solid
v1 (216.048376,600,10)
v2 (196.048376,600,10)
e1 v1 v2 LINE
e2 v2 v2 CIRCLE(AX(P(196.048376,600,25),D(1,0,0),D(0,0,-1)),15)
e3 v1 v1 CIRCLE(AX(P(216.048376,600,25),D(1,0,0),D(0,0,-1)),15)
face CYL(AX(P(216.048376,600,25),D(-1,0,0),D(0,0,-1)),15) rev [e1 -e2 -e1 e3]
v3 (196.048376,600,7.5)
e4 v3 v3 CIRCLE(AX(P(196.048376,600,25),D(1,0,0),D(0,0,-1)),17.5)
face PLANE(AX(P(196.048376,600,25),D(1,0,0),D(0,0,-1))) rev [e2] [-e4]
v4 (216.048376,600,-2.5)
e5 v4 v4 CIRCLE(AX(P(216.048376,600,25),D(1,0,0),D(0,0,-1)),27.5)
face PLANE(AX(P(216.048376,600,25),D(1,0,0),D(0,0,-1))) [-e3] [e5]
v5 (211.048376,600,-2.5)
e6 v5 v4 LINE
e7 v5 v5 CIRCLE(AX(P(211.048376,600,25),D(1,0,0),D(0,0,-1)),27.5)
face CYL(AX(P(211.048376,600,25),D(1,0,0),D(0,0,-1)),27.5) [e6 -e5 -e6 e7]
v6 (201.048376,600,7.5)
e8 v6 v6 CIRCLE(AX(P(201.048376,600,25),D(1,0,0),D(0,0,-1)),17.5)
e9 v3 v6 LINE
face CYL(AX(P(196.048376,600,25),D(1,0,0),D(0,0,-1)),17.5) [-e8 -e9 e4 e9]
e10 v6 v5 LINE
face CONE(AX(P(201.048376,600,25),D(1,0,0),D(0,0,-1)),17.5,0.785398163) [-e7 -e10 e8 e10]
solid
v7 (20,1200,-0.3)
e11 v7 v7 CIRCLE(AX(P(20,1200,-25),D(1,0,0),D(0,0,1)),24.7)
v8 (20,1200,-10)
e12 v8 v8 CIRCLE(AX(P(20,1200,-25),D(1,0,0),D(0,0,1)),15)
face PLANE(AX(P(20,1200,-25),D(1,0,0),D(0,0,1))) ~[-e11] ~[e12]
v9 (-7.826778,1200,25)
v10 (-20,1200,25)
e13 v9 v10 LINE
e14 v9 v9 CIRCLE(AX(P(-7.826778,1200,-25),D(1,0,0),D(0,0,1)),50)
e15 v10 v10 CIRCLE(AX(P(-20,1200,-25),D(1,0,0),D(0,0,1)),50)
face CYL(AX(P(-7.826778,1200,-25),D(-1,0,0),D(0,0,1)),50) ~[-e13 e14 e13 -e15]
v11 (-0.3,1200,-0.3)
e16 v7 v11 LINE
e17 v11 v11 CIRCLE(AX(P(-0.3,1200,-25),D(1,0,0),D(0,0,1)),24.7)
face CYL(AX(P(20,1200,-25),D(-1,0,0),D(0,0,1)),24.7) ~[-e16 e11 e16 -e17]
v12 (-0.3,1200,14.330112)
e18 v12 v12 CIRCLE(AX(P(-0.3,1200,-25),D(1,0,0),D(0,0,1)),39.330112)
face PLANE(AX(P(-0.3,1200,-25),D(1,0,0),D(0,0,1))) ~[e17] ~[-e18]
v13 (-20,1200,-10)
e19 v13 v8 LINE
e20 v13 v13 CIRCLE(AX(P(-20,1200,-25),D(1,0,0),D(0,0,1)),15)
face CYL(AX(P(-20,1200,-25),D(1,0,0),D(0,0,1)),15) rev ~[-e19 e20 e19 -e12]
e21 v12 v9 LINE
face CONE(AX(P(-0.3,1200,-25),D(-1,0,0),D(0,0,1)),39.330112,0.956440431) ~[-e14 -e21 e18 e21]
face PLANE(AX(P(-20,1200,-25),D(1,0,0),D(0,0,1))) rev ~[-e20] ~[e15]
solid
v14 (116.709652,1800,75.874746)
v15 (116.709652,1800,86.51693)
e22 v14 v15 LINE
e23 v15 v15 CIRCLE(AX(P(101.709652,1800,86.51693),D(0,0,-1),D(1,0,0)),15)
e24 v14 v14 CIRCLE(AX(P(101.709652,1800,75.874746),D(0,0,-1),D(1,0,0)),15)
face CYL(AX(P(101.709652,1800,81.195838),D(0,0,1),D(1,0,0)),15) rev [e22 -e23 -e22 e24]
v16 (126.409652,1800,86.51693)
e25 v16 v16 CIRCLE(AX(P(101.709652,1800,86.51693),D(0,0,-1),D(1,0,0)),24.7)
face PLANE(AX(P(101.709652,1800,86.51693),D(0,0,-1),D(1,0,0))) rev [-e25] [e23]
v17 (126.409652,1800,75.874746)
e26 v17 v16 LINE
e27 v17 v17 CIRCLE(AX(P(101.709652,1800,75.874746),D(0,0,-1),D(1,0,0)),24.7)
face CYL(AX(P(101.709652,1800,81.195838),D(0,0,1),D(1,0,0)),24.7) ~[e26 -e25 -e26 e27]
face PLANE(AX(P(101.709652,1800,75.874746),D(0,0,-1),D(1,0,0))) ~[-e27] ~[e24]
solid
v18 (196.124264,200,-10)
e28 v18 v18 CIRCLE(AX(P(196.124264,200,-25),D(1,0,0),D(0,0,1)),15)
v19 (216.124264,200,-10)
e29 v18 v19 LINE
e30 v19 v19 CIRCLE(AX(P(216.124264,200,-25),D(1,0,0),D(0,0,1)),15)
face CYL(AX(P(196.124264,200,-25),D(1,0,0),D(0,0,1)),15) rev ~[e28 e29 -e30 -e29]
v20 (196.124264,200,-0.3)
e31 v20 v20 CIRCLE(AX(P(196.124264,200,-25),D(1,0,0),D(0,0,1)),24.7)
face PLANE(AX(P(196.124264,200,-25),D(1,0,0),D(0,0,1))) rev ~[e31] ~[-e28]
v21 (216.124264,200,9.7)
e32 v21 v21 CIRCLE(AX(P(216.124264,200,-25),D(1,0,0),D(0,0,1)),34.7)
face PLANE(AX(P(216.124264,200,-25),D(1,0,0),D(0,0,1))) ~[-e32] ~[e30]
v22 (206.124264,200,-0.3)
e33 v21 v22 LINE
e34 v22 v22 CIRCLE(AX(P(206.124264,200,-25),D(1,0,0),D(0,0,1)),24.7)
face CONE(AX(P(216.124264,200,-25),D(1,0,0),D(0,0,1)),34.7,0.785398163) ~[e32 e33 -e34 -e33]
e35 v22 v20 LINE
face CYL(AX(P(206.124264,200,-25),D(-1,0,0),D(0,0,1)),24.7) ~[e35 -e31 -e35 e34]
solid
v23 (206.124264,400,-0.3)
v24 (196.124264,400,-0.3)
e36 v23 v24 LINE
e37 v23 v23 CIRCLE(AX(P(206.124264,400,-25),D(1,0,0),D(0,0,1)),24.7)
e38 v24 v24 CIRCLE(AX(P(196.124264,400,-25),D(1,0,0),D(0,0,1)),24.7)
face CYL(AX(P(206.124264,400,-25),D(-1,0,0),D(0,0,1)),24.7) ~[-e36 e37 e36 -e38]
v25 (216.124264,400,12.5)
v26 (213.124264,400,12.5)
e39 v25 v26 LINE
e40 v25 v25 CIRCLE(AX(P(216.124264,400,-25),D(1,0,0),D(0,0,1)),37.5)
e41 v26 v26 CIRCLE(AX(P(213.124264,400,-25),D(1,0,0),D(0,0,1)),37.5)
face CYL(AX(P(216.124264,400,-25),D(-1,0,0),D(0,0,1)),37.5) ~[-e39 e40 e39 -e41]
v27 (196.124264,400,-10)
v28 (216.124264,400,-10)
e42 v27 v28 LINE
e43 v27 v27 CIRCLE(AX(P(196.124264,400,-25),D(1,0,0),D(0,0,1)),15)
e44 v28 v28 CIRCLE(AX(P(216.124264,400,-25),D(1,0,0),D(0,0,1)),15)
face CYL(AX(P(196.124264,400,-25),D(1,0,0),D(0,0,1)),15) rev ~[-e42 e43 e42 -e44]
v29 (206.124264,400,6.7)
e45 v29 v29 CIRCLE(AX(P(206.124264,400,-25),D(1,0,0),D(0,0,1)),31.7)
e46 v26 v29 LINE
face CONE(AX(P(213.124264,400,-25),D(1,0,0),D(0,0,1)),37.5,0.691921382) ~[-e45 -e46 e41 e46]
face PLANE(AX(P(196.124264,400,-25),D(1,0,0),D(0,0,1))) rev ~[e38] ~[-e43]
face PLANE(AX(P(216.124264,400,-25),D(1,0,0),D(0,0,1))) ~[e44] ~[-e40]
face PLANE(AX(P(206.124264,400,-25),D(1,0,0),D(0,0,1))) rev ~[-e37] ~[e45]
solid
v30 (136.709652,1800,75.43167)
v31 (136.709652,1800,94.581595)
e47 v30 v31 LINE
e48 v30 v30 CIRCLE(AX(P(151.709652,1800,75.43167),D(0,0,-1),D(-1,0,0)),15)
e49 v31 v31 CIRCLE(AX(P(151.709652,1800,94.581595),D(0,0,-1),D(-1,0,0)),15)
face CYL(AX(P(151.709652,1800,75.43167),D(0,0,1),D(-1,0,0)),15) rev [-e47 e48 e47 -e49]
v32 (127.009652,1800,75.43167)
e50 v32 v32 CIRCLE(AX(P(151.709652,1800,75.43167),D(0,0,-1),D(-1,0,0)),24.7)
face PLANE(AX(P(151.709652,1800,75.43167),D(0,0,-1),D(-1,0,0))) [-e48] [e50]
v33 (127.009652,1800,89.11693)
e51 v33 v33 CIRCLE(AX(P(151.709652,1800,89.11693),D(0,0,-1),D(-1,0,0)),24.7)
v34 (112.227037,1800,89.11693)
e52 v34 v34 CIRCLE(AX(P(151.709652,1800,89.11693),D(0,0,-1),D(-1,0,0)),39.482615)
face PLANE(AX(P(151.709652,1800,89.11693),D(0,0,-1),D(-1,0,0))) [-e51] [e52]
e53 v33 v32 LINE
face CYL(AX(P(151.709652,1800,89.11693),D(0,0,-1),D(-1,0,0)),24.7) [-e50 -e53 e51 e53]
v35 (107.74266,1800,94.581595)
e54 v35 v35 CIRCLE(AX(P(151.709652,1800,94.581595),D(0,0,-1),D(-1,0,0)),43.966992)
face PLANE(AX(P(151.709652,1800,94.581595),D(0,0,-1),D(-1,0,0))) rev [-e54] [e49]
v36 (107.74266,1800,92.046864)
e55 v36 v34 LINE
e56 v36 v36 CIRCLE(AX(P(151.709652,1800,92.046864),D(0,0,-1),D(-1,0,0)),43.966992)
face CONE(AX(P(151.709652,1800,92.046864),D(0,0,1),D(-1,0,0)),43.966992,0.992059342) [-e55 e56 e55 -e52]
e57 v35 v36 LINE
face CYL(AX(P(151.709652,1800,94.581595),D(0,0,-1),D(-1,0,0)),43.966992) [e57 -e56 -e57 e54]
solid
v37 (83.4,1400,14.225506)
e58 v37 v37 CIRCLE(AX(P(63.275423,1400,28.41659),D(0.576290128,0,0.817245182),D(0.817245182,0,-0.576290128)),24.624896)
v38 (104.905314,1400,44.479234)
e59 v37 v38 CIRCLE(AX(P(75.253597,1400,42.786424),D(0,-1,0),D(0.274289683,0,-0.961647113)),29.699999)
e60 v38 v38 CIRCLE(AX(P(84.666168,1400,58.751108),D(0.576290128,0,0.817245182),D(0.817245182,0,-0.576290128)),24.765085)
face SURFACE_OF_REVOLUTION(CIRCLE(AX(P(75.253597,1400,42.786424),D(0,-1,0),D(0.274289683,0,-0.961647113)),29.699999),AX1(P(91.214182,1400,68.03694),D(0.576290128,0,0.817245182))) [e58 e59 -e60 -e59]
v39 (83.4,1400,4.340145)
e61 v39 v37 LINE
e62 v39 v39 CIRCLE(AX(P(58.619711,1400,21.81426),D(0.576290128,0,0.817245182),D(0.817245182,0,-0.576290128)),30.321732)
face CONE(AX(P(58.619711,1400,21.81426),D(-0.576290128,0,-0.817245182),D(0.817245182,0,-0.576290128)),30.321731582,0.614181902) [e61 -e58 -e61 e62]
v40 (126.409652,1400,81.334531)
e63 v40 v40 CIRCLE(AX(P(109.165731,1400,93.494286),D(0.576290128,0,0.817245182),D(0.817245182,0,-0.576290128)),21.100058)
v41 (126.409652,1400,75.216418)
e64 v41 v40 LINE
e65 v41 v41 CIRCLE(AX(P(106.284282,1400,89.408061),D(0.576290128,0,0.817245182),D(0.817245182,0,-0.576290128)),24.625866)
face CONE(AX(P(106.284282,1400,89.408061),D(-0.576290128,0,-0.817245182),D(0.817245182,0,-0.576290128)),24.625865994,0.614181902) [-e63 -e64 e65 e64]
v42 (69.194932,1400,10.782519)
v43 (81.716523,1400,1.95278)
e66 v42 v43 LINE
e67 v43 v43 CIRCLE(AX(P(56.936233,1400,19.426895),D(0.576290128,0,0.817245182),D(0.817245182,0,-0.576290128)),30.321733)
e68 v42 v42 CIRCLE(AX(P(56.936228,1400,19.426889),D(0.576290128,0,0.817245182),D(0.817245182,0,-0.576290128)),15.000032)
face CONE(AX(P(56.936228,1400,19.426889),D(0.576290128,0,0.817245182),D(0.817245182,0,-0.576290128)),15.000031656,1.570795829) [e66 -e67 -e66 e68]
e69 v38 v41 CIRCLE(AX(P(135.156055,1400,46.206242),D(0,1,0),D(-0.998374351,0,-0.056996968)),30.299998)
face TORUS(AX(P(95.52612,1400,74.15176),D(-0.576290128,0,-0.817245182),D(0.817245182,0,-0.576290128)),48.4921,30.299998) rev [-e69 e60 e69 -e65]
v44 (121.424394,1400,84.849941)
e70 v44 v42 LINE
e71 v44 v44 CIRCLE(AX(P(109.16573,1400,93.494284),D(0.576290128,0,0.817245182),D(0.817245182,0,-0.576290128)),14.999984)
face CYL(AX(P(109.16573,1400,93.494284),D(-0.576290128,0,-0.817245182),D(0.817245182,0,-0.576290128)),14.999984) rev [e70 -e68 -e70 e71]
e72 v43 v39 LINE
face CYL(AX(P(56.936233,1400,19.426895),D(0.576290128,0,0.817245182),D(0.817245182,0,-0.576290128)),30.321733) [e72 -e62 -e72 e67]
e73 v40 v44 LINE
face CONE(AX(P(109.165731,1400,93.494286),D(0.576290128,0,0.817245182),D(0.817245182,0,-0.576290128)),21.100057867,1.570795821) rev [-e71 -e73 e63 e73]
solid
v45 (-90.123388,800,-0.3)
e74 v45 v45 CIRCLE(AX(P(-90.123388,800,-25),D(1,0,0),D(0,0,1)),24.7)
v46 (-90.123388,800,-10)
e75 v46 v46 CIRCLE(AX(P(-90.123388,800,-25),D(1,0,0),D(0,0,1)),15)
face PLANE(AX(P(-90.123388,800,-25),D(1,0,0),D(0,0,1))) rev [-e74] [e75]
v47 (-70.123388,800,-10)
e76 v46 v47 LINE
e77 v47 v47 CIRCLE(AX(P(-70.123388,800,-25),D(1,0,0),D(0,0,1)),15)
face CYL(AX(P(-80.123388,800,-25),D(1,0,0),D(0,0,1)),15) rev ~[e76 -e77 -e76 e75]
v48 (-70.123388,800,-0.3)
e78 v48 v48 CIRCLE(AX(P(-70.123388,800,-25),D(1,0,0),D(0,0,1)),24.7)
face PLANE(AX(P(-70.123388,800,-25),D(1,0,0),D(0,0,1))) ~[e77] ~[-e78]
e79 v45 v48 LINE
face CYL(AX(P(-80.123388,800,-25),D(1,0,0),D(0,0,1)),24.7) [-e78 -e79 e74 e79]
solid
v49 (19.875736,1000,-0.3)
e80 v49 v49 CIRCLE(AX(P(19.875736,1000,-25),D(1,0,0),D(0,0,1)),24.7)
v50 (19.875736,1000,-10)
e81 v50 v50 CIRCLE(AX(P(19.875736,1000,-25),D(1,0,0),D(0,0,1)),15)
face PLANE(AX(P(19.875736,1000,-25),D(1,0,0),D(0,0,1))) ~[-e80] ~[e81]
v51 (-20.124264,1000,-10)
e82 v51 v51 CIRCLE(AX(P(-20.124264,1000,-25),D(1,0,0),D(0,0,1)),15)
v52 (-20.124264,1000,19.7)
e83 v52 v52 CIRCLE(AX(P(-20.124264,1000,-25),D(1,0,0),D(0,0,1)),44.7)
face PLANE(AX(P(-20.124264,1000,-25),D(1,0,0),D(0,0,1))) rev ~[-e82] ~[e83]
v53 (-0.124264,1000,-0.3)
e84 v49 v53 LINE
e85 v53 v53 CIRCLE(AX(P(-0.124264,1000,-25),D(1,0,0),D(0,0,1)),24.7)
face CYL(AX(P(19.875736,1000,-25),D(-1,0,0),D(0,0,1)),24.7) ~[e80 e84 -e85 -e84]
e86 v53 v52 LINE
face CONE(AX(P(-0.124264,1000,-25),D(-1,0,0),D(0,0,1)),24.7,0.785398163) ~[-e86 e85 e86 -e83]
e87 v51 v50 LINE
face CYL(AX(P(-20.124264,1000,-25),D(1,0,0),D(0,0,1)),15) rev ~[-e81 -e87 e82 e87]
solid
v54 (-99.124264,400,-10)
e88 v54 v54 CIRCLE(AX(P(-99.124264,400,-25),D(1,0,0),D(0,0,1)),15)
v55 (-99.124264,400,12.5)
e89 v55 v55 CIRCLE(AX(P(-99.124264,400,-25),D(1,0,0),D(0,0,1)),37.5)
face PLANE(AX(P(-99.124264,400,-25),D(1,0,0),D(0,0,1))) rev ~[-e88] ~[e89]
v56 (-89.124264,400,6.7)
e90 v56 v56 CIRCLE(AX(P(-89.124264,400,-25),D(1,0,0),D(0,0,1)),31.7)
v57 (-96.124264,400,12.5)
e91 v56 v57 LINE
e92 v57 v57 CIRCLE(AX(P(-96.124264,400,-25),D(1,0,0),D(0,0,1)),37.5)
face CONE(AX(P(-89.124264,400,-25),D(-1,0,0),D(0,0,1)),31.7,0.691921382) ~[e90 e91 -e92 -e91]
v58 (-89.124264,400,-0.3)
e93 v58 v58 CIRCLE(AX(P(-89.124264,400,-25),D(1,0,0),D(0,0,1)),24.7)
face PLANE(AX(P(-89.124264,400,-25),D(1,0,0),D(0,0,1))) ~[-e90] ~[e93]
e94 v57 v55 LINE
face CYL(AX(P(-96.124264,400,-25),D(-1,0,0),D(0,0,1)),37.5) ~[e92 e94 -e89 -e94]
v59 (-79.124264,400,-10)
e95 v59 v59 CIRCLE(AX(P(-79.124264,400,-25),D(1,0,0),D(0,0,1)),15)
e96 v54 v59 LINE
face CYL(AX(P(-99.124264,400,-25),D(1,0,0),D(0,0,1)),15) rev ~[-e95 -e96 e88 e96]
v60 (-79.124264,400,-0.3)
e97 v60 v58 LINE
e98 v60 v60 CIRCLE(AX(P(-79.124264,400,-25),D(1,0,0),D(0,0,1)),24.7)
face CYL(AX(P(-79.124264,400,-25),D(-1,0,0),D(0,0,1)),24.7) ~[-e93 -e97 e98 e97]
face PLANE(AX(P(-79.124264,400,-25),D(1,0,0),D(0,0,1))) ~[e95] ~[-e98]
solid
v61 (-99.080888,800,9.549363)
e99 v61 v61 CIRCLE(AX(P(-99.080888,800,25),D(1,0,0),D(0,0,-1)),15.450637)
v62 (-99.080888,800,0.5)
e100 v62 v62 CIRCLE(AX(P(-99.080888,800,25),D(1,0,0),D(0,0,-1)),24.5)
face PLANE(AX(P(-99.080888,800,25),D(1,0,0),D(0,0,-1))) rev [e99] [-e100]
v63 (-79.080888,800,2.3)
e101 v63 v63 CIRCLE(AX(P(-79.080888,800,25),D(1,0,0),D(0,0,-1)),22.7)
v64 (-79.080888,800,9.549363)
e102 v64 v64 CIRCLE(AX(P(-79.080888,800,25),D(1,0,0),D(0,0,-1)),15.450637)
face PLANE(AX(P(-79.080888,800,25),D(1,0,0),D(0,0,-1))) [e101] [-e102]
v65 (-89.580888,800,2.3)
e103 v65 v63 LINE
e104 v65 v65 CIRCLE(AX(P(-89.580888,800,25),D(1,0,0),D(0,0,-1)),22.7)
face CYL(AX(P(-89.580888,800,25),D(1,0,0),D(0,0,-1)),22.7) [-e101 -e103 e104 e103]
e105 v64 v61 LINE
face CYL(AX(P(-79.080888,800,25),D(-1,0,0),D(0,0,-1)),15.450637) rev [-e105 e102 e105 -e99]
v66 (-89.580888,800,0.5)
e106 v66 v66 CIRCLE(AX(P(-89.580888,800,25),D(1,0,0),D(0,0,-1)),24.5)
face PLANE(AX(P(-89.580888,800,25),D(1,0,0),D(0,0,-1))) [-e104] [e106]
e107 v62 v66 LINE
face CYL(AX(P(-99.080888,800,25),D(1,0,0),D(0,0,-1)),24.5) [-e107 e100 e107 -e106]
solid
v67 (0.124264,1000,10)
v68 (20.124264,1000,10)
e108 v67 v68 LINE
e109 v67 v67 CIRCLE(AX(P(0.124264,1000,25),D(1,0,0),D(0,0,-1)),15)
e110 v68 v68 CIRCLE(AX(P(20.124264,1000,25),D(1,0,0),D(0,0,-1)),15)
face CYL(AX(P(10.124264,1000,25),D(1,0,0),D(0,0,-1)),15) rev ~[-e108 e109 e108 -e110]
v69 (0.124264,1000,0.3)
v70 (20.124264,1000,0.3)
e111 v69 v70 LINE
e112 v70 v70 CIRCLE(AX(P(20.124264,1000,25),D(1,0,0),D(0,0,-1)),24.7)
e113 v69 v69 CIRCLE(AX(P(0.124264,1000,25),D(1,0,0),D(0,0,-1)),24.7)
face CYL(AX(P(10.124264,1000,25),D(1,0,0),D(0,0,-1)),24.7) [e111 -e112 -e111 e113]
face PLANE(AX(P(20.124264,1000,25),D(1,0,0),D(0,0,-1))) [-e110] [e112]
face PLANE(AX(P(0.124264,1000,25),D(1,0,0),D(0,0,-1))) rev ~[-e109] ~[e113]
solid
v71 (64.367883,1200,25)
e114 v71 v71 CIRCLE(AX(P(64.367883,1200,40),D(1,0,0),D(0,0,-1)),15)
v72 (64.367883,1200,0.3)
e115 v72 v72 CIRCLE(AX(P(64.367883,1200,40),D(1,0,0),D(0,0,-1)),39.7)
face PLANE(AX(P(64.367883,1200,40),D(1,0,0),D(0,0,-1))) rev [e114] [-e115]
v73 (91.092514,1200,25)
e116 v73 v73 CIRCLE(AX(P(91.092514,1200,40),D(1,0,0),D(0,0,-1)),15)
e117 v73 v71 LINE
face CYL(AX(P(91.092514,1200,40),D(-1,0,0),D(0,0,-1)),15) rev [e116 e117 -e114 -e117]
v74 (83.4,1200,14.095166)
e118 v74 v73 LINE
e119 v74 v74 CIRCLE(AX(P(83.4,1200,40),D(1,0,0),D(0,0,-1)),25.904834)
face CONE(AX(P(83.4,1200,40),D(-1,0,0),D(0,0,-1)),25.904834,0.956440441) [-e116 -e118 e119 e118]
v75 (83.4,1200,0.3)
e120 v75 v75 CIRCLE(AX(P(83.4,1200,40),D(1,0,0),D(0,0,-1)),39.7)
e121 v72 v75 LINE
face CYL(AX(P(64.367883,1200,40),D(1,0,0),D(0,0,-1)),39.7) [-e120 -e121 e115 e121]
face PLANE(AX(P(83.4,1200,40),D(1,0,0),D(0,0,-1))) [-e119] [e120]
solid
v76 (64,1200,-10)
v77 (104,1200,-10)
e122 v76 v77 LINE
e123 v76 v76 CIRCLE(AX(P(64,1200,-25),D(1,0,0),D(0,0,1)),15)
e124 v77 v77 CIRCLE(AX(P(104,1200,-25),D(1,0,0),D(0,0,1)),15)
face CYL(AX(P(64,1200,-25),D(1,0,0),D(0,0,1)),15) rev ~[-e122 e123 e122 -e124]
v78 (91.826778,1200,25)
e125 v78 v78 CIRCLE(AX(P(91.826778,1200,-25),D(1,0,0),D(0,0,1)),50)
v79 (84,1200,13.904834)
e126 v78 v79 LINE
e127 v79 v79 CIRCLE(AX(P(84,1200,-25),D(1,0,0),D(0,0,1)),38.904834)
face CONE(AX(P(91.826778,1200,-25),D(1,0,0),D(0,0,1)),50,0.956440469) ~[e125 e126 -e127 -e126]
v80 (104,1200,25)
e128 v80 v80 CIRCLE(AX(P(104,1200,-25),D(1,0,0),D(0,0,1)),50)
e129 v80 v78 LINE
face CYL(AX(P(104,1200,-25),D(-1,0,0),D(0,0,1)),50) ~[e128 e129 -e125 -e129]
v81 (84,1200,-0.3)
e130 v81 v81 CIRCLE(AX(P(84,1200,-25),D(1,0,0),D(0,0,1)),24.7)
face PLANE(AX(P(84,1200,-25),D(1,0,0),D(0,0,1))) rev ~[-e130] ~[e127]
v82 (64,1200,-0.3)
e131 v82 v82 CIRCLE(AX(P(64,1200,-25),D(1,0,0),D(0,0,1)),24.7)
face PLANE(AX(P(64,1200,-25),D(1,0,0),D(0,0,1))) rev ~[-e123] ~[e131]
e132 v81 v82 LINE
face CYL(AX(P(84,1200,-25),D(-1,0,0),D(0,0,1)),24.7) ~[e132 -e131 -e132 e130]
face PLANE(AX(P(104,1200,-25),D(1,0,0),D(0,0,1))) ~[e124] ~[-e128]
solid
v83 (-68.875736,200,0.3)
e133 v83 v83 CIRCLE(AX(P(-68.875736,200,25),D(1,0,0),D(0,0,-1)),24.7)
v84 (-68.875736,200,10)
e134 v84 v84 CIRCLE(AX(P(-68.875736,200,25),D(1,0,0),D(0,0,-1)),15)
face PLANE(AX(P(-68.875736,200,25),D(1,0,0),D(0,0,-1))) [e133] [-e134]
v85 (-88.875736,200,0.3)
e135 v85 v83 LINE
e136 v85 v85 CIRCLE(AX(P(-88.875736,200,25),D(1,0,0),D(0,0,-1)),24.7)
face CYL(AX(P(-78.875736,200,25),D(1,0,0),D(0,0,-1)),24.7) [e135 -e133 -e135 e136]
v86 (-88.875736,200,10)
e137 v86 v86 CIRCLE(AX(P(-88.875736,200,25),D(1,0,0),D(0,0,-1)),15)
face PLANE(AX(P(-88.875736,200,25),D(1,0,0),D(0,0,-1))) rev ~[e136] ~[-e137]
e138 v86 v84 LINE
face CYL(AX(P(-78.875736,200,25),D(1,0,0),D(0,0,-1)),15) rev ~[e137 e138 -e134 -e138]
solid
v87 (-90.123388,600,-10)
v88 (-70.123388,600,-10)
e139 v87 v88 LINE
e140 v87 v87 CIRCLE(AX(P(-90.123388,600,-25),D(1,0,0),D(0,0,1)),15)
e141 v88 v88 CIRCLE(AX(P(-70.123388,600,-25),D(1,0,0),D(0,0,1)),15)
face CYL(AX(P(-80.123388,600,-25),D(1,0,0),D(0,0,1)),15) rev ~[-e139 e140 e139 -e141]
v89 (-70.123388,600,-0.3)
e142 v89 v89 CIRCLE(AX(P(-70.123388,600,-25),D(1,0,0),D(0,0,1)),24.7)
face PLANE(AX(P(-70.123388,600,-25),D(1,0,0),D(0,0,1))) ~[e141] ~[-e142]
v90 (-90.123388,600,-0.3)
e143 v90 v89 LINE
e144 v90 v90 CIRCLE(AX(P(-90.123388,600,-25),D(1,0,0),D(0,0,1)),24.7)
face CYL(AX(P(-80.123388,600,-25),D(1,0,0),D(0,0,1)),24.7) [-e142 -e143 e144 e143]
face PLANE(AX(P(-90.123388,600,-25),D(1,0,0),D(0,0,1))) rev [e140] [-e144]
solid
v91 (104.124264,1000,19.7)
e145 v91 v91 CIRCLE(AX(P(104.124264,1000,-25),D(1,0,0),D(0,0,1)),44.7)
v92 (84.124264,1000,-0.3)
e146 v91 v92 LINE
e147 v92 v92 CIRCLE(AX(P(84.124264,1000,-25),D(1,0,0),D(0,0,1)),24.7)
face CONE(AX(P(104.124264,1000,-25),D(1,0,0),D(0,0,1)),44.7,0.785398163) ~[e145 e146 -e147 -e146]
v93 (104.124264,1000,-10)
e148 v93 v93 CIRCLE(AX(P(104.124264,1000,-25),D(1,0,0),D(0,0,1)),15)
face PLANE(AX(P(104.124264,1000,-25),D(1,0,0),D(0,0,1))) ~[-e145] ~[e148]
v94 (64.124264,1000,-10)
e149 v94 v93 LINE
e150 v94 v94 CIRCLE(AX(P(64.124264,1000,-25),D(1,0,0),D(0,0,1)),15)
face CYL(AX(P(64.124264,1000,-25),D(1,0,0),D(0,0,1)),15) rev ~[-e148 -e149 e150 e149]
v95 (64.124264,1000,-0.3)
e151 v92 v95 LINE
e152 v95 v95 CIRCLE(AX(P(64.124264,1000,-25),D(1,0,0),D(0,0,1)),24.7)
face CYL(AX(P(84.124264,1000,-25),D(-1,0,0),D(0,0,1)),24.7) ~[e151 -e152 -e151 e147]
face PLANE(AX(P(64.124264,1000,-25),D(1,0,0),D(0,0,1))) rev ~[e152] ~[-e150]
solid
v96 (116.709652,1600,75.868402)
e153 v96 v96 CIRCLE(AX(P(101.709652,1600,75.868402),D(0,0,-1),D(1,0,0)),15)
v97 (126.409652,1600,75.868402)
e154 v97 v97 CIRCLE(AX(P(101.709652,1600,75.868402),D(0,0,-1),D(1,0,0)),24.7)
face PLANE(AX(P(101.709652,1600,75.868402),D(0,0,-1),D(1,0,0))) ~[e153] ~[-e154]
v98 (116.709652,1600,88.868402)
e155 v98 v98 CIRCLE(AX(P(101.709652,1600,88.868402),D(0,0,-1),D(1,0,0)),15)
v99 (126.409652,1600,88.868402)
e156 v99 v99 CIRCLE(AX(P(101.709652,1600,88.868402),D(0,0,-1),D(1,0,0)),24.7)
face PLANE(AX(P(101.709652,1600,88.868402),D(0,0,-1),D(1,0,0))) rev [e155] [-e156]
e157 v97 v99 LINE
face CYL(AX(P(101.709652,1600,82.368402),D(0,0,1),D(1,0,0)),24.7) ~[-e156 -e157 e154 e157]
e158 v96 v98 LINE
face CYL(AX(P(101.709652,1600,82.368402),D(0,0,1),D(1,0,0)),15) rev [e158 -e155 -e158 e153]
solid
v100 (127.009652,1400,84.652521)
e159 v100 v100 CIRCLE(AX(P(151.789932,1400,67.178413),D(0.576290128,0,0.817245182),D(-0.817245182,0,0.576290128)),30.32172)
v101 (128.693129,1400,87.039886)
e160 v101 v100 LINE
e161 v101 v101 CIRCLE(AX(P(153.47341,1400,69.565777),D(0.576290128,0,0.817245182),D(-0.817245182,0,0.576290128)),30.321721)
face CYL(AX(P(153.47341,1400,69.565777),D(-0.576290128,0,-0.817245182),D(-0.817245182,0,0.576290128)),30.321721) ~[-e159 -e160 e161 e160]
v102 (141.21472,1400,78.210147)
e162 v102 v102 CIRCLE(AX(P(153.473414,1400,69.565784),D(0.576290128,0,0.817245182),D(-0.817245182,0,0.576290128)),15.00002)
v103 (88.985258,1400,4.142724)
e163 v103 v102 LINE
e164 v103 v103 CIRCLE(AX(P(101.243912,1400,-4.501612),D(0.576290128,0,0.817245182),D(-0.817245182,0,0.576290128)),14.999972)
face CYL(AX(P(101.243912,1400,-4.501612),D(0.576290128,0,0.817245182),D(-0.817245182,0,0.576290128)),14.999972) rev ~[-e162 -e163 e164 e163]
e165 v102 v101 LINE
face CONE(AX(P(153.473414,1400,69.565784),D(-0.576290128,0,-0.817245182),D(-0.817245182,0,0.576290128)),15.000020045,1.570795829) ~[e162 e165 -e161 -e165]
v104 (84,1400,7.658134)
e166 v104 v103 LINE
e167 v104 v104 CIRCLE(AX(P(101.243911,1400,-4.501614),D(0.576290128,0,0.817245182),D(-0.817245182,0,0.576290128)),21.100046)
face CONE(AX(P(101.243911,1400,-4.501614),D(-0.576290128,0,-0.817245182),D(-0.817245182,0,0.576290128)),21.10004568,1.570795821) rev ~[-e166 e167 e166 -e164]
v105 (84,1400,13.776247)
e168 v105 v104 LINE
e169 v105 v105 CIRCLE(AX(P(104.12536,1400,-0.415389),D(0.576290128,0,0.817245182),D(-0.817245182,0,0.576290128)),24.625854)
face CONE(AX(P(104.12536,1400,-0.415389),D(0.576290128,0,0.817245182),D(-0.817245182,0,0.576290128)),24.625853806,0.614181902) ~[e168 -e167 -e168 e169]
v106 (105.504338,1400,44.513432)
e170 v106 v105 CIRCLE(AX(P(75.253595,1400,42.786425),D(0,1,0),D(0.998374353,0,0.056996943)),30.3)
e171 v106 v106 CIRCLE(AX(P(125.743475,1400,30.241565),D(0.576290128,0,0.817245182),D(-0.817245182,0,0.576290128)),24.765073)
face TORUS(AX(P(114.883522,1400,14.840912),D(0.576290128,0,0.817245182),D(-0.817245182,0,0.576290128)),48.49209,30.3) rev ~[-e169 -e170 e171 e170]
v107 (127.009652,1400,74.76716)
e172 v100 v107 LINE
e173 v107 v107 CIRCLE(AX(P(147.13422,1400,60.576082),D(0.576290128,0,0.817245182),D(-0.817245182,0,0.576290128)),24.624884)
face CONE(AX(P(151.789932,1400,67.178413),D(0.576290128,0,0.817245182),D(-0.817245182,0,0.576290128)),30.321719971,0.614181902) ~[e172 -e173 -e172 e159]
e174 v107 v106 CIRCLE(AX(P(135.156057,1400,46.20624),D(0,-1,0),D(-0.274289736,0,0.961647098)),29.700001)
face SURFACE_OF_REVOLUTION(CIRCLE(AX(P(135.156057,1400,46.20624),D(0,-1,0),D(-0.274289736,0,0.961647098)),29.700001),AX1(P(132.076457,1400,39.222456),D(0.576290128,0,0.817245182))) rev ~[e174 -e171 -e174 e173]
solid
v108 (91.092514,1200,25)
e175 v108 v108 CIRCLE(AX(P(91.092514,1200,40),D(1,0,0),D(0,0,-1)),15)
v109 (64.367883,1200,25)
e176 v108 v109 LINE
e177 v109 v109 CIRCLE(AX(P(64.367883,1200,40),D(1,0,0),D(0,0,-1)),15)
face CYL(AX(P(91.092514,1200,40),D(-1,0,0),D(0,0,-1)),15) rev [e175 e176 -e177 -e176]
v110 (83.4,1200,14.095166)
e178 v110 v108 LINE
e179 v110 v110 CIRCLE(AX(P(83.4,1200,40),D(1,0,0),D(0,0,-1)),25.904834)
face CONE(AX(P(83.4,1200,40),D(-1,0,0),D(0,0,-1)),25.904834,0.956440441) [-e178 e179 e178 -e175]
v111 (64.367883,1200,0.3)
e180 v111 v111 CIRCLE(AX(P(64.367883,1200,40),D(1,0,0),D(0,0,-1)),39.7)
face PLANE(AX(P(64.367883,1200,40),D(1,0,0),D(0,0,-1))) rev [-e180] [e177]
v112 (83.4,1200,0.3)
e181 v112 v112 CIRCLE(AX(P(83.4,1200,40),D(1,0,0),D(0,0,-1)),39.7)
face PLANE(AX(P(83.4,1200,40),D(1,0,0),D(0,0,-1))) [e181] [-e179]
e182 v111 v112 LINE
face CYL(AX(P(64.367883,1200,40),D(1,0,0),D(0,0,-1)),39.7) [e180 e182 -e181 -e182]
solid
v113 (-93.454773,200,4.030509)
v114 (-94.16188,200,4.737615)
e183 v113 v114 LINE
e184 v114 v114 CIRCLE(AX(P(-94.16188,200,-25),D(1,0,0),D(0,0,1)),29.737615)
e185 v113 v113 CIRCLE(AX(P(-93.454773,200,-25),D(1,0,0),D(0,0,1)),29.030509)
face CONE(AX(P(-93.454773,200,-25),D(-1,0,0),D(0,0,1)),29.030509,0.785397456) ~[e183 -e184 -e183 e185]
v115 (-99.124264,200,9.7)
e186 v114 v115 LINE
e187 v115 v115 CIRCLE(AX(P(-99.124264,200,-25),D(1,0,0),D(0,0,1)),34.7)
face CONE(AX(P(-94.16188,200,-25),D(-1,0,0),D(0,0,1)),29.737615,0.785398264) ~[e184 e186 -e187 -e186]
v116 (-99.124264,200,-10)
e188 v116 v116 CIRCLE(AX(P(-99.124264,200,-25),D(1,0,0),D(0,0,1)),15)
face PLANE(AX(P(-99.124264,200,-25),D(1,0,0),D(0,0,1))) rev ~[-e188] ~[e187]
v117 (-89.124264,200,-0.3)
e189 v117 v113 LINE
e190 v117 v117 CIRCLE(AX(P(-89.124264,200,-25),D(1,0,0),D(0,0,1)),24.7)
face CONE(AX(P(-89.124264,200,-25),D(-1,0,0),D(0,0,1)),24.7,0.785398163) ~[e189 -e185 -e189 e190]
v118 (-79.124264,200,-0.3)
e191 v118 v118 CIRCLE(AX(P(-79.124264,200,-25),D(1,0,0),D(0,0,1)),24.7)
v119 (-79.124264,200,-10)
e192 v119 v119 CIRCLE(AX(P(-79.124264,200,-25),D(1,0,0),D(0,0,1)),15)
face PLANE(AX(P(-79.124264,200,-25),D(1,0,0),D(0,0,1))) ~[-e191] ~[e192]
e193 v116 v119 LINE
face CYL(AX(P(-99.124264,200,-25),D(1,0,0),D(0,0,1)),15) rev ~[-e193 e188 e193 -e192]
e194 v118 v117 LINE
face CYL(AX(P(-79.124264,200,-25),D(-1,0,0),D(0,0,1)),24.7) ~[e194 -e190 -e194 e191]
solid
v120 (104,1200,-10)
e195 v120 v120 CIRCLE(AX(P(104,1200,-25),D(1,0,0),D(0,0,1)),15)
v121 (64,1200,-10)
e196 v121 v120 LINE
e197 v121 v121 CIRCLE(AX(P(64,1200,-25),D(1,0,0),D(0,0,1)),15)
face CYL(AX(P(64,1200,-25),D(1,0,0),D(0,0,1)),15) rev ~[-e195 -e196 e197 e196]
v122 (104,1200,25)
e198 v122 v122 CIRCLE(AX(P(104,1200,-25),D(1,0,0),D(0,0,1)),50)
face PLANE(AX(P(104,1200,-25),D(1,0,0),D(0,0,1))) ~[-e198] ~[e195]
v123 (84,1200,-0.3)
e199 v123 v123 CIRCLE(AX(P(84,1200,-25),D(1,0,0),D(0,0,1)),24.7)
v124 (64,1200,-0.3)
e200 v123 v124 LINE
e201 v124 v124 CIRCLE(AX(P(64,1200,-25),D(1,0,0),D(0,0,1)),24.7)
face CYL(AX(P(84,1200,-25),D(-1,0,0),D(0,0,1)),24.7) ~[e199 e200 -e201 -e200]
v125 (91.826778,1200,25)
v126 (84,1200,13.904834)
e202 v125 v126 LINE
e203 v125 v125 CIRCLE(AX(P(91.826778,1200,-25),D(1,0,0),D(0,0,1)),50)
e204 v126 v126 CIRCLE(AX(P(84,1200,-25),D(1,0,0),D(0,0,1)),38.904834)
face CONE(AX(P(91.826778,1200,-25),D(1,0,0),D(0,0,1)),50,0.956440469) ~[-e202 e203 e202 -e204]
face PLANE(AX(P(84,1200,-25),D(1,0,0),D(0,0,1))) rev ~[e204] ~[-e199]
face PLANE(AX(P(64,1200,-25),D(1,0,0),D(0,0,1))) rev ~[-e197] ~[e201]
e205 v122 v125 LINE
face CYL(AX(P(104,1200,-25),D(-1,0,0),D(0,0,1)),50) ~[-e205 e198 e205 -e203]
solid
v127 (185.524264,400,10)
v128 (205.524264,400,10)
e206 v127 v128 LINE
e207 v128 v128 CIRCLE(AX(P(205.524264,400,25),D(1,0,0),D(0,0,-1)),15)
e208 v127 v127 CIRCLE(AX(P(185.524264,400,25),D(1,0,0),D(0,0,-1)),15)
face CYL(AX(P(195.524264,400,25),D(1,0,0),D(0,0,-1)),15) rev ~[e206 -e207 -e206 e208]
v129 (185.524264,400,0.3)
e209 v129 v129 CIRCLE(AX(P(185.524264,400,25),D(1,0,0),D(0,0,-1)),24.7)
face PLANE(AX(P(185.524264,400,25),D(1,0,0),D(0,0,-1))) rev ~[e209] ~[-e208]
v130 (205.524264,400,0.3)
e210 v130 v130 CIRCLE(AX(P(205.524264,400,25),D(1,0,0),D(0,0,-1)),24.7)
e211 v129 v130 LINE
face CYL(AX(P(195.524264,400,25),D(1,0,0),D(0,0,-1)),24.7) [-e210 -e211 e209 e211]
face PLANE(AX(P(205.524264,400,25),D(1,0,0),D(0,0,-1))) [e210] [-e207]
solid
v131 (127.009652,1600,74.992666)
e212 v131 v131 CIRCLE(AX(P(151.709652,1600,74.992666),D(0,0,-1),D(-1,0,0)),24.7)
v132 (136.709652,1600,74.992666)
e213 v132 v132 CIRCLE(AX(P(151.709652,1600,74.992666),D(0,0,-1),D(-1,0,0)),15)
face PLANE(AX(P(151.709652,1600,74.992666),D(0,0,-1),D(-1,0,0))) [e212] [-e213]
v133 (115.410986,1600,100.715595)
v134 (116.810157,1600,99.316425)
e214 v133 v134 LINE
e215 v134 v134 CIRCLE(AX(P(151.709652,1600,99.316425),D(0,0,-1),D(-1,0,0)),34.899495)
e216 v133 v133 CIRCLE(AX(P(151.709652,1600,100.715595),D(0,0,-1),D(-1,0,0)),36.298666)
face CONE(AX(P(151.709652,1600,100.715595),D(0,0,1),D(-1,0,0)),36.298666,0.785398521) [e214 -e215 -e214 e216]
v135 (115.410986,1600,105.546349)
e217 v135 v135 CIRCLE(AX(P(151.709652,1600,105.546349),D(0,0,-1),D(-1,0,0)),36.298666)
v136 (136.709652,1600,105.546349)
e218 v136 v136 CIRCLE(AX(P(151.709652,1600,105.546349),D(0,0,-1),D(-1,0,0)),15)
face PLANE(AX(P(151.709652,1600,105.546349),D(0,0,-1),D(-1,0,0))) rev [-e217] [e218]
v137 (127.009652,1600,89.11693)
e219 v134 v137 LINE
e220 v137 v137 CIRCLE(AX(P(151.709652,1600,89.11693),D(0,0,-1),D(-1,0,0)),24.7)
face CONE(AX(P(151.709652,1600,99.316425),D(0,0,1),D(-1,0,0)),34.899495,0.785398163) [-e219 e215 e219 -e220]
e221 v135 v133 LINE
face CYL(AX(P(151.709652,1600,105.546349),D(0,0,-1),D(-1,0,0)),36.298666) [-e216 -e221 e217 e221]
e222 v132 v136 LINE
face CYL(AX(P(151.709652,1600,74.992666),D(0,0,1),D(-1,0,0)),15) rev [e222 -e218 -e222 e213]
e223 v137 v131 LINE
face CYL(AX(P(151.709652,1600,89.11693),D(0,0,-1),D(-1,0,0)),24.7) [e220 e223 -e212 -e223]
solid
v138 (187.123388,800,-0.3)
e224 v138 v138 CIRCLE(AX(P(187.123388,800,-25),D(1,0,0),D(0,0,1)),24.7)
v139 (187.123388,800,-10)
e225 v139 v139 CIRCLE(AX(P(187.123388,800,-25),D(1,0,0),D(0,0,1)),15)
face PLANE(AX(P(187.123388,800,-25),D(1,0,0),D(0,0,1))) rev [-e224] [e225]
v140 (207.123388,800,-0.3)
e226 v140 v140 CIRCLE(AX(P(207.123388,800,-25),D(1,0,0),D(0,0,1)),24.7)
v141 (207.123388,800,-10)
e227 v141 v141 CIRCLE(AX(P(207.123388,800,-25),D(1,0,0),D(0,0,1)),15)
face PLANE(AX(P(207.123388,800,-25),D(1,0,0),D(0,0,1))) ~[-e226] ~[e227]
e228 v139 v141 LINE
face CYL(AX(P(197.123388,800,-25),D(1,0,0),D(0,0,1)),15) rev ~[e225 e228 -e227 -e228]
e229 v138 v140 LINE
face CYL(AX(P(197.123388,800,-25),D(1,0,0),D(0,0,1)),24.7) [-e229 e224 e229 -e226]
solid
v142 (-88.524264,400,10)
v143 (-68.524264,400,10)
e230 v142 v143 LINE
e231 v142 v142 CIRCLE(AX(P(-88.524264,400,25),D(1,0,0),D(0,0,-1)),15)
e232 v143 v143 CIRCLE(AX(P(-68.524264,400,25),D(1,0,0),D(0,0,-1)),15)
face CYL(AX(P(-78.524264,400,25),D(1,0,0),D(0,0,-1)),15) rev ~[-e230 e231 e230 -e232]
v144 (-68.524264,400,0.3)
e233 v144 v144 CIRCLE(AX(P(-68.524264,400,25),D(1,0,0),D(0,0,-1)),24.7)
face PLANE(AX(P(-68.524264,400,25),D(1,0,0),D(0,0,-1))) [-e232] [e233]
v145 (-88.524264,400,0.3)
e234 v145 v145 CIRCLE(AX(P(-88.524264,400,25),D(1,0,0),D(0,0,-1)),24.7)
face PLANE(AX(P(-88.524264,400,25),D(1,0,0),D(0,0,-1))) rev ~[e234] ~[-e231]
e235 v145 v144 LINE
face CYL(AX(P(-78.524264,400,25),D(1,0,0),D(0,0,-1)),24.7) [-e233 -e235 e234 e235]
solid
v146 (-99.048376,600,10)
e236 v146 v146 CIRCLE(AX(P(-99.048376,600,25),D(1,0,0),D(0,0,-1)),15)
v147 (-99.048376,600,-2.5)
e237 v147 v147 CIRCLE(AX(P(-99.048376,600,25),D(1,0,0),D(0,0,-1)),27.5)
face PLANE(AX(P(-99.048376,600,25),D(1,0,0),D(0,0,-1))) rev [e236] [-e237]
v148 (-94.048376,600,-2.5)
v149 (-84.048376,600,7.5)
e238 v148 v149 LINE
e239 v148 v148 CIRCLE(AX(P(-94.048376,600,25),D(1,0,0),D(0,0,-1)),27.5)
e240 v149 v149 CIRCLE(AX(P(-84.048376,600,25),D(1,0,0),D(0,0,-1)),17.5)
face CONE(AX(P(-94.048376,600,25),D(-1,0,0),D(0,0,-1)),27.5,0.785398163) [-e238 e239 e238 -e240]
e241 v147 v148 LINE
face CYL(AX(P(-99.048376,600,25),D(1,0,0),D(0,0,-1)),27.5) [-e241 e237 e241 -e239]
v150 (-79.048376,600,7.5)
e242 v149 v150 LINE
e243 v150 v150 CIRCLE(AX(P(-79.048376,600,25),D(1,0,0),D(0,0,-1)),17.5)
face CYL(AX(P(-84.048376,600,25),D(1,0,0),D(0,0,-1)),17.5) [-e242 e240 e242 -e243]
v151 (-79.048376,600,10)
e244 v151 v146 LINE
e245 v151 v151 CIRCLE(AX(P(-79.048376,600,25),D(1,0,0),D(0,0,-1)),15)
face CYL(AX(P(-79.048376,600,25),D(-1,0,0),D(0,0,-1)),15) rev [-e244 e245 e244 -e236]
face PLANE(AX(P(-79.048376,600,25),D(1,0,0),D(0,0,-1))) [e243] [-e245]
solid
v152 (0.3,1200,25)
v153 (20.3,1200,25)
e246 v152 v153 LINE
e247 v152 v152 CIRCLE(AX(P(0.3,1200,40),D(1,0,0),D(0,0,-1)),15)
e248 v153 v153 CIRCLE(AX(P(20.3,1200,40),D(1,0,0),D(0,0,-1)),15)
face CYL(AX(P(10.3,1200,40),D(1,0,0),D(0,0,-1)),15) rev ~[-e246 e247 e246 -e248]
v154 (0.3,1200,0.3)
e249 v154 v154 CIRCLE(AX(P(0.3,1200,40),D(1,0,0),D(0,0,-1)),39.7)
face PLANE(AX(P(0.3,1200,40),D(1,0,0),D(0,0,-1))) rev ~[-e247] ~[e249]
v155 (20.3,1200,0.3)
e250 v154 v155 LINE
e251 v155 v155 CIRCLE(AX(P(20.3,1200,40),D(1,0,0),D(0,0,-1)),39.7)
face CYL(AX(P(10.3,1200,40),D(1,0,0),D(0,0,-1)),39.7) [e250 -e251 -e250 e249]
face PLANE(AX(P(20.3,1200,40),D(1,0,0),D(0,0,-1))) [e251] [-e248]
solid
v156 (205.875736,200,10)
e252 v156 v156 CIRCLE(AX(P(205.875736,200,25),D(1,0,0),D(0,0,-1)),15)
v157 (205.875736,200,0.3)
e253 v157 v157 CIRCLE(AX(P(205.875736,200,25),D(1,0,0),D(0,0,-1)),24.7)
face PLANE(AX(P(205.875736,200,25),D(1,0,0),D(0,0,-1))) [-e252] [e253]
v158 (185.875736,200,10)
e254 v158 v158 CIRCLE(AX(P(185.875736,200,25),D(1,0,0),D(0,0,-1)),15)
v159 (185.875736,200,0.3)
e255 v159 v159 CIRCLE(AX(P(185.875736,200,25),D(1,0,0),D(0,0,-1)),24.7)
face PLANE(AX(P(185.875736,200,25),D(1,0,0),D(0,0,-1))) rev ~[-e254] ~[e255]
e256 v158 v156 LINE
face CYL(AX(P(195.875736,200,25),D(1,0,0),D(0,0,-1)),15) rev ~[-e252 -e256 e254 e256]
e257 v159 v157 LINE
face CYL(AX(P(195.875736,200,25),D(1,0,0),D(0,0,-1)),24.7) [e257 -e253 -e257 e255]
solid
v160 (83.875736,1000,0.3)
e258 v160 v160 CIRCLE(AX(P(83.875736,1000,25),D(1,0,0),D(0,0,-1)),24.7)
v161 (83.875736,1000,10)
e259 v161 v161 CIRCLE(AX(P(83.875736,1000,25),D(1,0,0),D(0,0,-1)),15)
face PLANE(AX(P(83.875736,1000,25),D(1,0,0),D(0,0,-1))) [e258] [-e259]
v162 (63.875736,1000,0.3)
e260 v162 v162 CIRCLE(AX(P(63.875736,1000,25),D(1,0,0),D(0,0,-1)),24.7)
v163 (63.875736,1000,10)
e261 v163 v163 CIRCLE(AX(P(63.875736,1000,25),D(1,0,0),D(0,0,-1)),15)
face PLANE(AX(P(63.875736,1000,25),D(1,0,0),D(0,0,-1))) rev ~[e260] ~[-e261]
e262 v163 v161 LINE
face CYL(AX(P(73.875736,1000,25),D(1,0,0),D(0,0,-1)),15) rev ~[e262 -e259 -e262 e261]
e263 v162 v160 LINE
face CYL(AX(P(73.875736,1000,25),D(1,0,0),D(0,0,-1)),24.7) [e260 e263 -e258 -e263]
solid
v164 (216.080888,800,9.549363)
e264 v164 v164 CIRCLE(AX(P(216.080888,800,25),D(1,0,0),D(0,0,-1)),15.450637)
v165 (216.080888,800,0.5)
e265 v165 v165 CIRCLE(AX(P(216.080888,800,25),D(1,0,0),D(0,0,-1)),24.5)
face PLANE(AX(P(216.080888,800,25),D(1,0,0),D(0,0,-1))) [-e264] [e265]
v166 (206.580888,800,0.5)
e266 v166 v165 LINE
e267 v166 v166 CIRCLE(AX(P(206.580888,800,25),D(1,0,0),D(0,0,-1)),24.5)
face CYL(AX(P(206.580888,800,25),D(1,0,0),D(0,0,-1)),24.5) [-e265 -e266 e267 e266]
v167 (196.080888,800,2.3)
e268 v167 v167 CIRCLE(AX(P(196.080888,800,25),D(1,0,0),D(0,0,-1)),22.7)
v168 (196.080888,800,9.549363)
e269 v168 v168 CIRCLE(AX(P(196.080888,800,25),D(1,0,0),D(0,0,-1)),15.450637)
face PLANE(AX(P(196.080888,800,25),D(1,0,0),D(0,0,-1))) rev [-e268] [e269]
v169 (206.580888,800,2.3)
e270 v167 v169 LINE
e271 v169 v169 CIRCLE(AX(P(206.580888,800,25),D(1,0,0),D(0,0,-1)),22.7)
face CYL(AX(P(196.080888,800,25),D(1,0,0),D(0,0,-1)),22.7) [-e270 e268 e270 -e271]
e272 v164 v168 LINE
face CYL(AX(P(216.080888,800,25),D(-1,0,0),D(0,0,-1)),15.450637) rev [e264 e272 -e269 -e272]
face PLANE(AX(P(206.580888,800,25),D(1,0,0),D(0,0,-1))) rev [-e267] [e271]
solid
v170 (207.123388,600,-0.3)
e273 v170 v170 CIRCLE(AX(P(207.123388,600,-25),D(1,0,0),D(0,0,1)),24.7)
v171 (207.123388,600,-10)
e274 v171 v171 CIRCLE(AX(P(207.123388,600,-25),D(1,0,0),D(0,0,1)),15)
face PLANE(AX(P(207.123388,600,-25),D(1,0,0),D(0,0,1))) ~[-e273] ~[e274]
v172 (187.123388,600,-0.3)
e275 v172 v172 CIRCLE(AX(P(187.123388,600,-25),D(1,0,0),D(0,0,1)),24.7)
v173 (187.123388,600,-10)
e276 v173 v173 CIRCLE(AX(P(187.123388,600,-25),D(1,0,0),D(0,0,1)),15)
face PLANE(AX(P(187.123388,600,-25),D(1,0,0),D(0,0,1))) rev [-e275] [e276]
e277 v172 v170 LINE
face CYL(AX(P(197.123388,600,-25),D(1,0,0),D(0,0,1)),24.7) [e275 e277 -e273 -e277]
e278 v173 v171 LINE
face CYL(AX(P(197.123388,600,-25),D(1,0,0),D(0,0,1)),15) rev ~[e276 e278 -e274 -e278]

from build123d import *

# Parameters (mm, degrees)
F11_W = 20
F11_H = 9.7
F12_W = 20
F12_H = 9.7
F13_W = 20
F13_H = 9.7
F14_W = 20
F14_H = 9.7
F15_W = 20
F15_H = 9.7
F16_W = 20
F16_H = 24.7
F18_W = 9.7
F18_H = 13
F19_W = 9.7
F19_H = 10.642184


with BuildPart() as f20:
    # F16 (on offset) → F20 (revolve)
    with BuildSketch(Plane.XZ.offset(-1200)):
        Polygon((64.367883, 25), (64.367883, 0.3), (83.4, 0.3), (83.4, 14.095166), (91.092514, 25), align=None)
    revolve(axis=Axis((88.076424, 1200, 40), (1, 0, 0)))


with BuildPart() as f21:
    # F16 (on offset) → F21 (revolve)
    with BuildSketch(Plane.XZ.offset(-1200)):
        Polygon((91.826778, 25), (84, 13.904834), (84, -0.3), (64, -0.3), (64, -10), (104, -10), (104, 25), align=None)
    revolve(axis=Axis((200.658701, 1200, -25), (1, 0, 0)))


with BuildPart() as f22:
    # F11 (on offset) → F22 (revolve)
    with BuildSketch(Plane.XZ.offset(-200)):
        with Locations((-78.875736, 5.15)):
            Rectangle(F11_W, F11_H)
        with Locations((195.875736, 5.15)):
            Rectangle(F11_W, F11_H)
    revolve(axis=Axis((201.341614, 200, 25), (1, 0, 0)))


with BuildPart() as f23:
    # F11 (on offset) → F23 (revolve)
    with BuildSketch(Plane.XZ.offset(-200)):
        Polygon((-79.124264, -10), (-79.124264, -0.3), (-89.124264, -0.3), (-93.454773, 4.030509), (-94.16188, 4.737615), (-99.124264, 9.7), (-99.124264, -10), align=None)
        Polygon((210.454773, 4.030509), (206.124264, -0.3), (196.124264, -0.3), (196.124264, -10), (216.124264, -10), (216.124264, 9.7), align=None)
    revolve(axis=Axis((200.658701, 200, -25), (1, 0, 0)))


with BuildPart() as f24:
    # F12 (on offset) → F24 (revolve)
    with BuildSketch(Plane.XZ.offset(-400)):
        with Locations((-78.524264, 5.15)):
            Rectangle(F12_W, F12_H)
        with Locations((195.524264, 5.15)):
            Rectangle(F12_W, F12_H)
    revolve(axis=Axis((201.341614, 400, 25), (1, 0, 0)))


with BuildPart() as f25:
    # F12 (on offset) → F25 (revolve)
    with BuildSketch(Plane.XZ.offset(-400)):
        Polygon((-99.124264, 12.5), (-99.124264, -10), (-79.124264, -10), (-79.124264, -0.3), (-89.124264, -0.3), (-89.124264, 6.7), (-96.124264, 12.5), align=None)
        Polygon((206.124264, -0.3), (196.124264, -0.3), (196.124264, -10), (216.124264, -10), (216.124264, 12.5), (213.124264, 12.5), (206.124264, 6.7), align=None)
    revolve(axis=Axis((200.658701, 400, -25), (1, 0, 0)))


with BuildPart() as f26:
    # F13 (on offset) → F26 (revolve)
    with BuildSketch(Plane.XZ.offset(-600)):
        Polygon((201.048376, 7.5), (211.048376, -2.5), (216.048376, -2.5), (216.048376, 10), (196.048376, 10), (196.048376, 7.5), align=None)
        Polygon((-99.048376, -2.5), (-94.048376, -2.5), (-84.048376, 7.5), (-79.048376, 7.5), (-79.048376, 10), (-99.048376, 10), align=None)
    revolve(axis=Axis((201.341614, 600, 25), (1, 0, 0)))


with BuildPart() as f27:
    # F13 (on offset) → F27 (revolve)
    with BuildSketch(Plane.XZ.offset(-600)):
        with Locations((-80.123388, -5.15)):
            Rectangle(F13_W, F13_H)
        with Locations((197.123388, -5.15)):
            Rectangle(F13_W, F13_H)
    revolve(axis=Axis((200.658701, 600, -25), (1, 0, 0)))


with BuildPart() as f28:
    # F14 (on offset) → F28 (revolve)
    with BuildSketch(Plane.XZ.offset(-800)):
        Polygon((196.080888, 9.549363), (196.080888, 2.3), (206.124264, 2.3), (206.580888, 2.3), (206.580888, 0.5), (216.080888, 0.5), (216.080888, 9.549363), align=None)
        Polygon((-89.580888, 2.3), (-79.080888, 2.3), (-79.080888, 9.549363), (-99.080888, 9.549363), (-99.080888, 0.5), (-89.580888, 0.5), align=None)
    revolve(axis=Axis((201.341614, 800, 25), (1, 0, 0)))


with BuildPart() as f29:
    # F14 (on offset) → F29 (revolve)
    with BuildSketch(Plane.XZ.offset(-800)):
        with Locations((197.123388, -5.15)):
            Rectangle(F14_W, F14_H)
        with Locations((-80.123388, -5.15)):
            Rectangle(F14_W, F14_H)
    revolve(axis=Axis((200.658701, 800, -25), (1, 0, 0)))


with BuildPart() as f30:
    # F15 (on offset) → F30 (revolve)
    with BuildSketch(Plane.XZ.offset(-1000)):
        with Locations((73.875736, 5.15)):
            Rectangle(F15_W, F15_H)
        with Locations((10.124264, 5.15)):
            Rectangle(F15_W, F15_H)
    revolve(axis=Axis((201.341614, 1000, 25), (1, 0, 0)))


with BuildPart() as f31:
    # F15 (on offset) → F31 (revolve)
    with BuildSketch(Plane.XZ.offset(-1000)):
        Polygon((104.124264, 19.7), (84.124264, -0.3), (64.124264, -0.3), (64.124264, -10), (104.124264, -10), align=None)
        Polygon((19.875736, -10), (19.875736, -0.3), (-0.124264, -0.3), (-20.124264, 19.7), (-20.124264, -10), align=None)
    revolve(axis=Axis((200.658701, 1000, -25), (1, 0, 0)))


with BuildPart() as f32:
    # F16 (on offset) → F32 (revolve)
    with BuildSketch(Plane.XZ.offset(-1200)):
        Polygon((64.367883, 25), (64.367883, 0.3), (83.4, 0.3), (83.4, 14.095166), (91.092514, 25), align=None)
        with Locations((10.3, 12.65)):
            Rectangle(F16_W, F16_H)
    revolve(axis=Axis((88.076424, 1200, 40), (1, 0, 0)))


with BuildPart() as f33:
    # F16 (on offset) → F33 (revolve)
    with BuildSketch(Plane.XZ.offset(-1200)):
        Polygon((20, -10), (20, -0.3), (-0.3, -0.3), (-0.3, 14.330112), (-7.826778, 25), (-20, 25), (-20, -10), align=None)
        Polygon((91.826778, 25), (84, 13.904834), (84, -0.3), (64, -0.3), (64, -10), (104, -10), (104, 25), align=None)
    revolve(axis=Axis((200.658701, 1200, -25), (1, 0, 0)))


with BuildPart() as f34:
    # F17 (on offset) → F34 (revolve)
    with BuildSketch(Plane.XZ.offset(-1400)):
        with BuildLine():
            ThreePointArc((104.905314, 44.479234), (110.328894, 63.575812), (126.409652, 75.216418))
            Line((126.409652, 75.216418), (126.409652, 81.334531))
            Line((126.409652, 81.334531), (121.424394, 84.849941))
            Line((121.424394, 84.849941), (69.194932, 10.782519))
            Line((69.194932, 10.782519), (81.716523, 1.95278))
            Line((81.716523, 1.95278), (83.4, 4.340145))
            Line((83.4, 4.340145), (83.4, 14.225506))
            ThreePointArc((83.4, 14.225506), (99.460961, 25.579058), (104.905314, 44.479234))
        make_face()
    revolve(axis=Axis((91.214182, 1400, 68.03694), (0.57629, 0, 0.817245)))


with BuildPart() as f35:
    # F17 (on offset) → F35 (revolve)
    with BuildSketch(Plane.XZ.offset(-1400)):
        with BuildLine():
            Line((127.009652, 84.652521), (127.009652, 74.76716))
            ThreePointArc((127.009652, 74.76716), (110.948691, 63.413607), (105.504338, 44.513432))
            ThreePointArc((105.504338, 44.513432), (100.080758, 25.416854), (84, 13.776247))
            Line((84, 13.776247), (84, 7.658134))
            Line((84, 7.658134), (88.985258, 4.142724))
            Line((88.985258, 4.142724), (141.21472, 78.210147))
            Line((141.21472, 78.210147), (128.693129, 87.039886))
            Line((128.693129, 87.039886), (127.009652, 84.652521))
        make_face()
    revolve(axis=Axis((132.076457, 1400, 39.222456), (0.57629, 0, 0.817245)))


with BuildPart() as f36:
    # F18 (on offset) → F36 (revolve)
    with BuildSketch(Plane.XZ.offset(-1600)):
        Polygon((116.810157, 99.316425), (127.009652, 89.11693), (127.009652, 74.992666), (136.709652, 74.992666), (136.709652, 105.546349), (115.410986, 105.546349), (115.410986, 100.715595), align=None)
    revolve(axis=Axis((151.709652, 1600, 85.977798), (0, 0, -1)))


with BuildPart() as f37:
    # F18 (on offset) → F37 (revolve)
    with BuildSketch(Plane.XZ.offset(-1600)):
        with Locations((121.559652, 82.368402)):
            Rectangle(F18_W, F18_H)
    revolve(axis=Axis((101.709652, 1600, 89.992199), (0, 0, -1)))


with BuildPart() as f38:
    # F19 (on offset) → F38 (revolve)
    with BuildSketch(Plane.XZ.offset(-1800)):
        Polygon((127.009652, 89.11693), (127.009652, 75.43167), (136.709652, 75.43167), (136.709652, 94.581595), (107.74266, 94.581595), (107.74266, 92.046864), (112.227037, 89.11693), (113.009652, 89.11693), align=None)
    revolve(axis=Axis((151.709652, 1800, 85.977798), (0, 0, -1)))


with BuildPart() as f39:
    # F19 (on offset) → F39 (revolve)
    with BuildSketch(Plane.XZ.offset(-1800)):
        with Locations((121.559652, 81.195838)):
            Rectangle(F19_W, F19_H)
    revolve(axis=Axis((101.709652, 1800, 89.992199), (0, 0, -1)))


solid = Compound([f20.part, f21.part, f22.part, f23.part, f24.part, f25.part, f26.part, f27.part, f28.part, f29.part, f30.part, f31.part, f32.part, f33.part, f34.part, f35.part, f36.part, f37.part, f38.part, f39.part])
